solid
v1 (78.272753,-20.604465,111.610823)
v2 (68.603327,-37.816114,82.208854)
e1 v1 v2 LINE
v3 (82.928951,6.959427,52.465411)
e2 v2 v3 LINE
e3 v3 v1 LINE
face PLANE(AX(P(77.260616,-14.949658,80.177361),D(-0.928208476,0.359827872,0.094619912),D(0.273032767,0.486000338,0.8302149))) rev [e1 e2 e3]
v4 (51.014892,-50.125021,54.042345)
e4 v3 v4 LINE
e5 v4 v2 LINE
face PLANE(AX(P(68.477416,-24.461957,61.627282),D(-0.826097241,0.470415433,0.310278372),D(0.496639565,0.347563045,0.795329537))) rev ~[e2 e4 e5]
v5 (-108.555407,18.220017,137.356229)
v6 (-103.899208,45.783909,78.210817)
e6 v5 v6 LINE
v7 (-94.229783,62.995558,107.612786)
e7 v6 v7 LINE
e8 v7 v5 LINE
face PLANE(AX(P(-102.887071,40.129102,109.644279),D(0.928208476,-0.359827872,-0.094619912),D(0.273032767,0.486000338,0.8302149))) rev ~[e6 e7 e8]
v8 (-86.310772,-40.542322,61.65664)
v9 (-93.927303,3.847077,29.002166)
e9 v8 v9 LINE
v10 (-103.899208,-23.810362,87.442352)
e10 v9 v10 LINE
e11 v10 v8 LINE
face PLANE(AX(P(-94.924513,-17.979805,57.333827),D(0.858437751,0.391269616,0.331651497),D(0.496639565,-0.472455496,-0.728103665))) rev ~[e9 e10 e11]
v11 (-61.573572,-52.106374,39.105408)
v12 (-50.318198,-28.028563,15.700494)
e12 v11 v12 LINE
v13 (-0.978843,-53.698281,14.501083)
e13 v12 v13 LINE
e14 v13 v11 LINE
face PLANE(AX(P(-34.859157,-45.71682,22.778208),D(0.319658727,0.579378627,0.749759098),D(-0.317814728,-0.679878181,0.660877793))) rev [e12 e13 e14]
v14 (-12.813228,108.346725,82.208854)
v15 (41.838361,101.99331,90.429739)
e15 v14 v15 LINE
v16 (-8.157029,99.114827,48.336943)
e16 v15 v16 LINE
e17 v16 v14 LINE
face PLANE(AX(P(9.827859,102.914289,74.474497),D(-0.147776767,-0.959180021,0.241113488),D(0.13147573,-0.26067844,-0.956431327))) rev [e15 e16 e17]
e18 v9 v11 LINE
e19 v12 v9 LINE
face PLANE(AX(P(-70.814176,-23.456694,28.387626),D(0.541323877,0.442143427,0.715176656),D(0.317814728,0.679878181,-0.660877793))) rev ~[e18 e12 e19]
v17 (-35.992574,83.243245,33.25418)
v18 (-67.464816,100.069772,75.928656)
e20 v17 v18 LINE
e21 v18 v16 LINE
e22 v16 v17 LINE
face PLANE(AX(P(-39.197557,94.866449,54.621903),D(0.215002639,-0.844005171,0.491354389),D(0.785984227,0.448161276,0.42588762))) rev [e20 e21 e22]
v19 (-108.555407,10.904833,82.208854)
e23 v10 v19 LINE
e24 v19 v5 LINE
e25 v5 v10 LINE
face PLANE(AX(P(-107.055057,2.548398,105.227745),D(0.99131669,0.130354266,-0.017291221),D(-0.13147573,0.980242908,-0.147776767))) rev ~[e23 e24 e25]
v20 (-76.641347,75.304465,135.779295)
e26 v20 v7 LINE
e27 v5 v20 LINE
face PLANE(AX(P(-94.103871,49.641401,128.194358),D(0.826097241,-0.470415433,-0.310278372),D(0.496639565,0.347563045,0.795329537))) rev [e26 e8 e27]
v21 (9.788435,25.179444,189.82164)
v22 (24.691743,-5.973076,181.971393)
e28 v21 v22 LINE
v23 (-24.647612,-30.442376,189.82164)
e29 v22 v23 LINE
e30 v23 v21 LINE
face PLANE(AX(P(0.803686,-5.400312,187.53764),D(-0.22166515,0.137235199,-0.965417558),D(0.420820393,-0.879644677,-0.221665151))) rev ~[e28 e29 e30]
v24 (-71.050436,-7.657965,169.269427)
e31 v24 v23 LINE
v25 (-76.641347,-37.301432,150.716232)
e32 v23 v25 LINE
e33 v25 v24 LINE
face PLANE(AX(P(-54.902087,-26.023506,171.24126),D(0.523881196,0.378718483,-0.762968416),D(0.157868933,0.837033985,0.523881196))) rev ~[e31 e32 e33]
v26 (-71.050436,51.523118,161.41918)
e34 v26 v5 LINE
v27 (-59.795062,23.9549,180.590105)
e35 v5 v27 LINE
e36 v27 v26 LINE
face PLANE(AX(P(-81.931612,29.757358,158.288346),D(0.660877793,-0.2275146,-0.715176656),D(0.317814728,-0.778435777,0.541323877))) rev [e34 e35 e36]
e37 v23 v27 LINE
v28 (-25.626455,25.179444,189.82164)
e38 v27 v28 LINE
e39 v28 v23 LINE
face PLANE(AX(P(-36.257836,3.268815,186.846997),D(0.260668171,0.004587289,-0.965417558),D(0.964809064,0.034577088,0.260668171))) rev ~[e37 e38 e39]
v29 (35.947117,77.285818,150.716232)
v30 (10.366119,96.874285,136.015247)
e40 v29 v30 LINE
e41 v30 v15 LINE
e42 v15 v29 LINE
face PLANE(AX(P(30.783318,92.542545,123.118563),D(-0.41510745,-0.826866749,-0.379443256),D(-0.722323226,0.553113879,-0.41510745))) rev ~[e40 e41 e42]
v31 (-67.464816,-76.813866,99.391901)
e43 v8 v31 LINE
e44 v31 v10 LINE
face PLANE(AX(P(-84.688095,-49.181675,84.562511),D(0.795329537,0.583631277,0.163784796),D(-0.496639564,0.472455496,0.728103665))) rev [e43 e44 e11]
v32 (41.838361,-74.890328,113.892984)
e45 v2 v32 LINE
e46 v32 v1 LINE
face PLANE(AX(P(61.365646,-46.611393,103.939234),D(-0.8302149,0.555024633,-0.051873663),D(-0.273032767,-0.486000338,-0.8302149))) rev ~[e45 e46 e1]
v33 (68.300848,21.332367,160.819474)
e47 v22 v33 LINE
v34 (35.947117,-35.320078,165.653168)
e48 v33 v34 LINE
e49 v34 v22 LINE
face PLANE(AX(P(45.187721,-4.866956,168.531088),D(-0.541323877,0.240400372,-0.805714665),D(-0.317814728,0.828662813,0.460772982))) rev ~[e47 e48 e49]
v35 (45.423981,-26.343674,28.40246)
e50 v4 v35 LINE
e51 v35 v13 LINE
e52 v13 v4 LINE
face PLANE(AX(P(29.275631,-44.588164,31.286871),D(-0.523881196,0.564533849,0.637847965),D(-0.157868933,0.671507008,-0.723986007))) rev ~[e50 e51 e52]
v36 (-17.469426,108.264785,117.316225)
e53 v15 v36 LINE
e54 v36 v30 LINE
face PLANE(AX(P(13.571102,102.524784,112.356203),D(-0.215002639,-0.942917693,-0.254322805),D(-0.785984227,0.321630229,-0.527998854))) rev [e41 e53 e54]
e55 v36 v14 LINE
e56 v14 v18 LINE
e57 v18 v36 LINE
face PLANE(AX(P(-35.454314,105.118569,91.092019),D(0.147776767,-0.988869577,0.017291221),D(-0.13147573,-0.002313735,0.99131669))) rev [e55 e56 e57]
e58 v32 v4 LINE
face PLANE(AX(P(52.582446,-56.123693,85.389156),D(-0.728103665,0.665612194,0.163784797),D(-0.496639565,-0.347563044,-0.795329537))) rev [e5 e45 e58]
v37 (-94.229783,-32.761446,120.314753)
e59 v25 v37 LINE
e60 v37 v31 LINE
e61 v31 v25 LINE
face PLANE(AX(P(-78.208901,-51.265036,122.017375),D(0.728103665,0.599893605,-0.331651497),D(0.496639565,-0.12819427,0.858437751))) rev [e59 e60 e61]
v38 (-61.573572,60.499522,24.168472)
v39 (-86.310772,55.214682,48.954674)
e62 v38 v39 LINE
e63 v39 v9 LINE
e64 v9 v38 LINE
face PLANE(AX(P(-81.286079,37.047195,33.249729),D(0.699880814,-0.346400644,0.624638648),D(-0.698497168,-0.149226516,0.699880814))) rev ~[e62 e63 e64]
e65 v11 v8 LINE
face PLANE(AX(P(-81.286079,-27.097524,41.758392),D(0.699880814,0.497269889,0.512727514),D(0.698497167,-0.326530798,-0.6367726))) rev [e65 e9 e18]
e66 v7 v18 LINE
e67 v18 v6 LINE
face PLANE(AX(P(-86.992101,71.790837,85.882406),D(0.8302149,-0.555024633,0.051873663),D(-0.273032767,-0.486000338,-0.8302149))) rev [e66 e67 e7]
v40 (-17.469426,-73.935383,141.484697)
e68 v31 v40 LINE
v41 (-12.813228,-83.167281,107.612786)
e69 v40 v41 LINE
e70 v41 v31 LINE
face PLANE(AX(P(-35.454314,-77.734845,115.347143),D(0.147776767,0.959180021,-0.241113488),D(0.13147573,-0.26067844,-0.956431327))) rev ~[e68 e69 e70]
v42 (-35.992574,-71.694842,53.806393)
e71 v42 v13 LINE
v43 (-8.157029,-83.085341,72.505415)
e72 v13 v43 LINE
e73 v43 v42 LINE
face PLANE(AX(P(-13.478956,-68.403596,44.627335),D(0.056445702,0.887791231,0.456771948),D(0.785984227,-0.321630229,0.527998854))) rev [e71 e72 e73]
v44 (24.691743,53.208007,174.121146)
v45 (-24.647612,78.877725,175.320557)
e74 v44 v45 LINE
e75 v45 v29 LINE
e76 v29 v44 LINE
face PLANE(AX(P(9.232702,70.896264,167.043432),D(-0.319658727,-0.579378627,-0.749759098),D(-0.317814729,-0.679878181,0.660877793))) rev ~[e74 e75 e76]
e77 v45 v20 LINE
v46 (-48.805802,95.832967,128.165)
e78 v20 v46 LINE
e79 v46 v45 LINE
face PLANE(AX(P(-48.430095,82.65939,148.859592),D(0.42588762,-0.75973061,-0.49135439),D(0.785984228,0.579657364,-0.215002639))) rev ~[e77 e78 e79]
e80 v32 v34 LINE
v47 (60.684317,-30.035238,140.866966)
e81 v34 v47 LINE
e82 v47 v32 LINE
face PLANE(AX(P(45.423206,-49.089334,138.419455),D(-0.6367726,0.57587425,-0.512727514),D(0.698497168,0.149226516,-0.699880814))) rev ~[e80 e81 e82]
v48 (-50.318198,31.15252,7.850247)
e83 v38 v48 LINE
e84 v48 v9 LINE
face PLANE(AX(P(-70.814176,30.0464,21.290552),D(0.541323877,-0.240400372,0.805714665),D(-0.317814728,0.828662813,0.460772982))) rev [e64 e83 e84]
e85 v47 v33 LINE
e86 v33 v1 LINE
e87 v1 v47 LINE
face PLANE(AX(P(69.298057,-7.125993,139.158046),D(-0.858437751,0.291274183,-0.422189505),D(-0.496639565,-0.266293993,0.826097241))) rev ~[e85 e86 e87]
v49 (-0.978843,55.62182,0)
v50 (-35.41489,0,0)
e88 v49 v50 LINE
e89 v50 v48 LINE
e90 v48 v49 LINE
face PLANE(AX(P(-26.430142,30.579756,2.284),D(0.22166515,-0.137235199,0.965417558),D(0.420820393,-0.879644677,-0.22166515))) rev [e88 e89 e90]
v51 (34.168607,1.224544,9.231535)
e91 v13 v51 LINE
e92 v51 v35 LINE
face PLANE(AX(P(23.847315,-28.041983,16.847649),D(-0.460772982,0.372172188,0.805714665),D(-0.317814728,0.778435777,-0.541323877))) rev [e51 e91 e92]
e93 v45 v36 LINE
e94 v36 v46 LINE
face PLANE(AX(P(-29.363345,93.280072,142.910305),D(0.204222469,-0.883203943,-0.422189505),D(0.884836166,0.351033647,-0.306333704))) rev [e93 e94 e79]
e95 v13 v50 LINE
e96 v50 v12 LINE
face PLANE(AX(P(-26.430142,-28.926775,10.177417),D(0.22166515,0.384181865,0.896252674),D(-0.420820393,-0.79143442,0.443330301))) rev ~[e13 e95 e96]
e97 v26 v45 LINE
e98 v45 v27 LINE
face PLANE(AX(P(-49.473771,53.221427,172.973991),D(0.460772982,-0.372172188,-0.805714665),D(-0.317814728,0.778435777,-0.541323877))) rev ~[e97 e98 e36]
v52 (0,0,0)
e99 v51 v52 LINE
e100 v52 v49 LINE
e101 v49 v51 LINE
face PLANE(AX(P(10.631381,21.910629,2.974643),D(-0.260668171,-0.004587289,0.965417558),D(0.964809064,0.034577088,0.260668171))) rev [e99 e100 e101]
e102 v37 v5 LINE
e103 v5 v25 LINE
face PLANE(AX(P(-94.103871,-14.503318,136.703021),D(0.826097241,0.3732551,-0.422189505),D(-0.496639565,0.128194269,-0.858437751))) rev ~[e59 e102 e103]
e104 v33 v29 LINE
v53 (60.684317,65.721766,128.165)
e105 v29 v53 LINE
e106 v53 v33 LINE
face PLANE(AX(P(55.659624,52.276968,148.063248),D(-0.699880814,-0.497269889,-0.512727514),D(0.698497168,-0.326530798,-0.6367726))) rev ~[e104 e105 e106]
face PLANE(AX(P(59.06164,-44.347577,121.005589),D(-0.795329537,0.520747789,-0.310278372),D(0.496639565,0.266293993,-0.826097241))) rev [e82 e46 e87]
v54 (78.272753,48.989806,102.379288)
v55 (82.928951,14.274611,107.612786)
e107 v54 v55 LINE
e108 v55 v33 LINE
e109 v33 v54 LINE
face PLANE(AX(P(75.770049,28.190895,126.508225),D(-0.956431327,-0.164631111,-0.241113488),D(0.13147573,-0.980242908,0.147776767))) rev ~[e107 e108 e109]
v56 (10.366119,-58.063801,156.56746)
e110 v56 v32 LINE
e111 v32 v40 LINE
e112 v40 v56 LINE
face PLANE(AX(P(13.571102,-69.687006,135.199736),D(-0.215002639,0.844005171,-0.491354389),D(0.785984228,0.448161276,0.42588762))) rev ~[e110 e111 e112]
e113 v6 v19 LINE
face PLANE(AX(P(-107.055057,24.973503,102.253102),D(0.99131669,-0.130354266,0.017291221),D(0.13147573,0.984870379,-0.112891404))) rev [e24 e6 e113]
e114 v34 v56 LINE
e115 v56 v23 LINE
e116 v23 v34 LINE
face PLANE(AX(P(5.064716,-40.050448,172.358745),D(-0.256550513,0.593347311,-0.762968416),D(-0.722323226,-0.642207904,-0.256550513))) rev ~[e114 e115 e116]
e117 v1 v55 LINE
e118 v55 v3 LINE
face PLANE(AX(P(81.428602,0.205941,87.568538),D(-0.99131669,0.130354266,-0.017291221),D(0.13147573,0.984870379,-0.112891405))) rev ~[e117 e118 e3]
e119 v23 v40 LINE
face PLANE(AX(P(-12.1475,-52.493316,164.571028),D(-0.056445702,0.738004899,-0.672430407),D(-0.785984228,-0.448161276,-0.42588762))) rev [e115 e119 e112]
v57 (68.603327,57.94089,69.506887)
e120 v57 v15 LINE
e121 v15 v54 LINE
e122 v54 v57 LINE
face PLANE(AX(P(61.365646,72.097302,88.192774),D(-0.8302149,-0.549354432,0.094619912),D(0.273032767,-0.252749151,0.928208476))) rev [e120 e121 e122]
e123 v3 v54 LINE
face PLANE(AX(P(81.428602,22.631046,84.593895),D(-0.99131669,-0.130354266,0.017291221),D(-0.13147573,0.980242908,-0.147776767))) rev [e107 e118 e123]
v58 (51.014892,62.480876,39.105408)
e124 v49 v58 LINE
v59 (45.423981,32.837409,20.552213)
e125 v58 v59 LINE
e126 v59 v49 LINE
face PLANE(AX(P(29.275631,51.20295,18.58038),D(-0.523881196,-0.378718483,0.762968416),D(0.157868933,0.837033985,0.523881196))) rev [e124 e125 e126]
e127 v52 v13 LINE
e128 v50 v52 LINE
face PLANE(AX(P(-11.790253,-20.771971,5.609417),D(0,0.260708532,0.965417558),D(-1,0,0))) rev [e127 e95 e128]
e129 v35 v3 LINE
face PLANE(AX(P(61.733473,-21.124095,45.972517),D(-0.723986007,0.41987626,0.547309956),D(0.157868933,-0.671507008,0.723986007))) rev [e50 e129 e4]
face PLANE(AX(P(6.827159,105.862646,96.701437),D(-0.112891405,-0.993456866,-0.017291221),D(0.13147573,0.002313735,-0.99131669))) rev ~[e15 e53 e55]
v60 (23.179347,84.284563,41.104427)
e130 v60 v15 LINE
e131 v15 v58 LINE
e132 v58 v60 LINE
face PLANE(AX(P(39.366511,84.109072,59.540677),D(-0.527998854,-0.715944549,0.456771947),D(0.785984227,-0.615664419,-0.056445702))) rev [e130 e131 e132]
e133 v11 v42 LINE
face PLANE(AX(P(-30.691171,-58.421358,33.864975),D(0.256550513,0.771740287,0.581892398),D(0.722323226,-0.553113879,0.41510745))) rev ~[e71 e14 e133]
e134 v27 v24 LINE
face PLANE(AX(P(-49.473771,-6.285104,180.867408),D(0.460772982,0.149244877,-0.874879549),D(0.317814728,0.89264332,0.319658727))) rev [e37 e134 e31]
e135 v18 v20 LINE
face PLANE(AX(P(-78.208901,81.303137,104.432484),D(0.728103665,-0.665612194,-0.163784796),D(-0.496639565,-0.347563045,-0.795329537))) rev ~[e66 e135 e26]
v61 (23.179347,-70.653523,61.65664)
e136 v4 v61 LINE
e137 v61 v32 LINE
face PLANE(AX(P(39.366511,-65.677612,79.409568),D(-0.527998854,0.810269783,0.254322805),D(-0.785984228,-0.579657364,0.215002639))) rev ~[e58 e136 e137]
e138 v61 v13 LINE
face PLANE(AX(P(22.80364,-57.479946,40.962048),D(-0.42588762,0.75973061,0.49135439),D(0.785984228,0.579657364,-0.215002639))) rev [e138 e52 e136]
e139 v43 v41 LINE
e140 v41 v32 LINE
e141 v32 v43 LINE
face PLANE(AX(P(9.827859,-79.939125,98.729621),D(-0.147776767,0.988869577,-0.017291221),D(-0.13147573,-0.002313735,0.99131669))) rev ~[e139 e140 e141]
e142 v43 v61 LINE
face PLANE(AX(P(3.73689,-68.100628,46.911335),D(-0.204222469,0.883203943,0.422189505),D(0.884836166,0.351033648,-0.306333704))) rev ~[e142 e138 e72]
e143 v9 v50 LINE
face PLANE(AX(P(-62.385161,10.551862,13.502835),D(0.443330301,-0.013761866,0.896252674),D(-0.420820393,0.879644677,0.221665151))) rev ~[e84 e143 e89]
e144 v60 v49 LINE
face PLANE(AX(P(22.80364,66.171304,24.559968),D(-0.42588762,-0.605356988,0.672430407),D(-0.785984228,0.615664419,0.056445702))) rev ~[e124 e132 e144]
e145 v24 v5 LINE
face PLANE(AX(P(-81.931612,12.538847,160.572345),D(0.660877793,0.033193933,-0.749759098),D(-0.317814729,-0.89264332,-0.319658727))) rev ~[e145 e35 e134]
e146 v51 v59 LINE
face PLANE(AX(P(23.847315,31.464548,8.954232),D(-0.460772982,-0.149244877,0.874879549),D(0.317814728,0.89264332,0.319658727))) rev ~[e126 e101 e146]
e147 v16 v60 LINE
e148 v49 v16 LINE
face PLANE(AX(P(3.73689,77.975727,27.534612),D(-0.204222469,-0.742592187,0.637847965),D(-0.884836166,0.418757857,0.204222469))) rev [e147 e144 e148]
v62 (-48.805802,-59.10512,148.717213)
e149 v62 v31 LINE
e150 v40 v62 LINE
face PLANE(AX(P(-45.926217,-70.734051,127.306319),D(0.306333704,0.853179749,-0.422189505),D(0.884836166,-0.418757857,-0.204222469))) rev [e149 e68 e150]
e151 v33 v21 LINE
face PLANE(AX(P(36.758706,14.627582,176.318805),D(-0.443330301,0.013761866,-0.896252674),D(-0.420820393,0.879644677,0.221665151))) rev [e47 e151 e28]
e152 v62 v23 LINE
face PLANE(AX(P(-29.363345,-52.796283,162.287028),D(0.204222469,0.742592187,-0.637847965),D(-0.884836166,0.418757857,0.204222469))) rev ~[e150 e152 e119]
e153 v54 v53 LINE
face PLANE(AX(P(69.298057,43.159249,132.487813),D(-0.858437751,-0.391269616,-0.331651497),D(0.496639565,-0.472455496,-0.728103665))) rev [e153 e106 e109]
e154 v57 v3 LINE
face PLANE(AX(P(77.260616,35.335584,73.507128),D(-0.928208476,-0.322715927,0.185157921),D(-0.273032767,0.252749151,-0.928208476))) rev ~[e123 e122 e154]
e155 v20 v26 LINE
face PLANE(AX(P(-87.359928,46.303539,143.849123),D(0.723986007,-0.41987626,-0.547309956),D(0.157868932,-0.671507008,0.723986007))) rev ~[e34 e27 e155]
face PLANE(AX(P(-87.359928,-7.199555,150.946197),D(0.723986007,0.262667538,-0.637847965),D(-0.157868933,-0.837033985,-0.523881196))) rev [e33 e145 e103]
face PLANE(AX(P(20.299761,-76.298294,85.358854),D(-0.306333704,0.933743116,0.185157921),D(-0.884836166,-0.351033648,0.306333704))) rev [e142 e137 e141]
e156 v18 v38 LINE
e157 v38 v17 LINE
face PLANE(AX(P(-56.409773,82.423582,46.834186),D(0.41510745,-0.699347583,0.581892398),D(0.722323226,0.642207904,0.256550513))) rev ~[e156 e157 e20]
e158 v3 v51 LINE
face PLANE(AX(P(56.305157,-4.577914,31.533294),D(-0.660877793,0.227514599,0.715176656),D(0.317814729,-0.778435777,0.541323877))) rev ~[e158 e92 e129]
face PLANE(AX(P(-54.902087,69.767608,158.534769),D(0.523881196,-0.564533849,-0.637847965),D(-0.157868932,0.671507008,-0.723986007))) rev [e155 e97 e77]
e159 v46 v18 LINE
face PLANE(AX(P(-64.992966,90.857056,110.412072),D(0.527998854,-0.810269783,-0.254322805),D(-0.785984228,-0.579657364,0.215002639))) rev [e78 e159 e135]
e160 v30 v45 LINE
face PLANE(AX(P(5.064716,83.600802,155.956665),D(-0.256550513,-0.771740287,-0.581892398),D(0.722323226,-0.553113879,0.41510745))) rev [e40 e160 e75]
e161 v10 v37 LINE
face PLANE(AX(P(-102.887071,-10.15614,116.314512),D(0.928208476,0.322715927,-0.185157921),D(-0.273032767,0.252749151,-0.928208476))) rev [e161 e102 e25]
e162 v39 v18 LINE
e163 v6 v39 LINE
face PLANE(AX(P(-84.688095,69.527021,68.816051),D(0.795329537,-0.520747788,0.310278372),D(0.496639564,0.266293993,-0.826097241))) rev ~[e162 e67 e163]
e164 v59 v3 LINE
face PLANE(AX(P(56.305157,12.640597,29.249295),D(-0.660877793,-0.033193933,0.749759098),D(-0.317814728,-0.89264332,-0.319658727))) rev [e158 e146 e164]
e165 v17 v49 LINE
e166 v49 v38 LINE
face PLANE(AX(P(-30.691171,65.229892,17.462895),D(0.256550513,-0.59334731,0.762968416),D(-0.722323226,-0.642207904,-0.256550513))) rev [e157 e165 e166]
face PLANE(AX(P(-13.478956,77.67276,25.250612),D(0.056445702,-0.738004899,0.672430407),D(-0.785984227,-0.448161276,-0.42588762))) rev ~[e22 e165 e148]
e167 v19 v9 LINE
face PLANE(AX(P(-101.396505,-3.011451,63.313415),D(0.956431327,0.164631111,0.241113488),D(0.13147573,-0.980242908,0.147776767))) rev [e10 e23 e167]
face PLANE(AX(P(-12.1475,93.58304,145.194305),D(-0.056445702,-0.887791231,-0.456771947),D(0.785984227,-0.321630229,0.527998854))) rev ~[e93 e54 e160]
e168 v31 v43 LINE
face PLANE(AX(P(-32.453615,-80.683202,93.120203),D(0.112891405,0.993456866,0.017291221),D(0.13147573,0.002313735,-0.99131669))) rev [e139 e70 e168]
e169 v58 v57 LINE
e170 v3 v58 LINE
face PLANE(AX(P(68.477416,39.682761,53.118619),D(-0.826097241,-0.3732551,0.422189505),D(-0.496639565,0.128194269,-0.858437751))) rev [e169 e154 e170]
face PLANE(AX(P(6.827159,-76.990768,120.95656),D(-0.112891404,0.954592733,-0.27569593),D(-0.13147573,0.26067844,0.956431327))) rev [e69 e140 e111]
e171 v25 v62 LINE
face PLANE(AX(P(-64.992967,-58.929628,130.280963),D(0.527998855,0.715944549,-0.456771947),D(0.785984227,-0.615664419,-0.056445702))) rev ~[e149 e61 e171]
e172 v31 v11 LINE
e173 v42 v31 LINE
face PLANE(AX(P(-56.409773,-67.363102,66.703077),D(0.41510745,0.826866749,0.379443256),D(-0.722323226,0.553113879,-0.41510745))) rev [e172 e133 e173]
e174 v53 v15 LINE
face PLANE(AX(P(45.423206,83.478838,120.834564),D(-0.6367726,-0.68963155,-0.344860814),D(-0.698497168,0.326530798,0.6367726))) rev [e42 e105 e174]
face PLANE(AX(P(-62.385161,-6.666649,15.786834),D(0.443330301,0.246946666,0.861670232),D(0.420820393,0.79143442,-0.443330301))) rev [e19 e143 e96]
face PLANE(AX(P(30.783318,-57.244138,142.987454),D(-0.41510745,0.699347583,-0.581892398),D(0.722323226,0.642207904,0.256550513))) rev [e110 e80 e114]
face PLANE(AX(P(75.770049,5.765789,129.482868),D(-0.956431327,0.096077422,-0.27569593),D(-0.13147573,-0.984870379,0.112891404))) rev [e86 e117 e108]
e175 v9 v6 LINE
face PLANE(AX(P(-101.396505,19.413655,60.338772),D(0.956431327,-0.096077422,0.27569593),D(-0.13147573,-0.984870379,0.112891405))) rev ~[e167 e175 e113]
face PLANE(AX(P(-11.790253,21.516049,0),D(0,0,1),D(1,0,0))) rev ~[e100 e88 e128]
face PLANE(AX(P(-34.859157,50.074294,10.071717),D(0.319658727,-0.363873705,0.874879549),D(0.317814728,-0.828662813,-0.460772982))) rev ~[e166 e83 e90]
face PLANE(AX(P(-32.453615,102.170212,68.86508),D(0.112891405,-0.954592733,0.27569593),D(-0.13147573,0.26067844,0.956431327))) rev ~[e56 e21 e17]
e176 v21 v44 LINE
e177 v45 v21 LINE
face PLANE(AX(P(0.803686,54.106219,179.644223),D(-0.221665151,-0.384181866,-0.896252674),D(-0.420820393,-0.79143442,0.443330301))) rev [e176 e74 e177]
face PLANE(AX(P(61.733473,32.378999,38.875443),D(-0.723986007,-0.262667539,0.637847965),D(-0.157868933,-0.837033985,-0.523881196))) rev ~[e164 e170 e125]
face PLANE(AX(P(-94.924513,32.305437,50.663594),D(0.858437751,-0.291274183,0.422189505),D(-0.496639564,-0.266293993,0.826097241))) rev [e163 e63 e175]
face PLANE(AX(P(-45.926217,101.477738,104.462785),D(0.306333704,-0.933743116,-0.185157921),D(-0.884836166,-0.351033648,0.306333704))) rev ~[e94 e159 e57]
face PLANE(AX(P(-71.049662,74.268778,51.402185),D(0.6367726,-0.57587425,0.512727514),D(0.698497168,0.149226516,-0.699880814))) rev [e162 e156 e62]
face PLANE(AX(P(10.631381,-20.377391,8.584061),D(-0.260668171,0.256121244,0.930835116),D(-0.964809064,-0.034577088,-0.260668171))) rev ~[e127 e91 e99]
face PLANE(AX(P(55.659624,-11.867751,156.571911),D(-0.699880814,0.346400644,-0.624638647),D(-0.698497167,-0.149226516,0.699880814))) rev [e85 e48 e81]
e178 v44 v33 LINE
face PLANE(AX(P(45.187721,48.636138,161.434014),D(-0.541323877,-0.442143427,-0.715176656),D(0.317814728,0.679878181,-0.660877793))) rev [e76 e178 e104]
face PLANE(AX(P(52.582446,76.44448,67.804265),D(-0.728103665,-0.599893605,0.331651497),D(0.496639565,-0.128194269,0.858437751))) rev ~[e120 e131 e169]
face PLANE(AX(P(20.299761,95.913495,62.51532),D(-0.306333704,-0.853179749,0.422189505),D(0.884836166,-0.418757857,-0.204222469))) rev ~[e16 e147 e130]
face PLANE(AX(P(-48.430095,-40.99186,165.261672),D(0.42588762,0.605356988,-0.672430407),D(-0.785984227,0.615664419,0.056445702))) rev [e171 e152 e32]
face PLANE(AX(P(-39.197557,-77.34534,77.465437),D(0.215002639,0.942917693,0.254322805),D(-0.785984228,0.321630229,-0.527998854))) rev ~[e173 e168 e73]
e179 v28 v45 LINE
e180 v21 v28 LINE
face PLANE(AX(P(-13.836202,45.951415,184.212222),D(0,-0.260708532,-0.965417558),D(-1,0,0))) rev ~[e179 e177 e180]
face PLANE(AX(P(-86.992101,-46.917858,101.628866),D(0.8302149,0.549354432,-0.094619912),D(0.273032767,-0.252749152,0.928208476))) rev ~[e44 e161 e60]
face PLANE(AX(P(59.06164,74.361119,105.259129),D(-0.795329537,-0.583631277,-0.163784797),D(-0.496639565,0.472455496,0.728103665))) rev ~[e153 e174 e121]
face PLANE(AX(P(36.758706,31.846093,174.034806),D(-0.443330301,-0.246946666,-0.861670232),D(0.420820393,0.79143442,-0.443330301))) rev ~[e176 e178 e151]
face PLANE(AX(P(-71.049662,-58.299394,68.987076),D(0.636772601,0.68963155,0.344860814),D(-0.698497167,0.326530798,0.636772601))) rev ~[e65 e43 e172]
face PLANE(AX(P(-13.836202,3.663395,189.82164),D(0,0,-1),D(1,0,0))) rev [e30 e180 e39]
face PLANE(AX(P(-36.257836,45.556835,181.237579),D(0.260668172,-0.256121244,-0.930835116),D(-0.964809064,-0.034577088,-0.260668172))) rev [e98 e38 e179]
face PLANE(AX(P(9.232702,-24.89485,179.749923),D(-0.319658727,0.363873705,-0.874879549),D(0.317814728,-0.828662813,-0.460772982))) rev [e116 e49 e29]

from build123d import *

# Parameters (mm, degrees)
F1_DEPTH = 101.6
F1_TAPER = 7.556054046


with BuildPart() as f1:
    # F0 (on Top) → F1 (new body)
    with BuildSketch(Plane.XY):
        Polygon((0, 0), (-0.9788434916, 55.6218195157), (-35.4148902231, 0), align=None)
    extrude(amount=F1_DEPTH, taper=F1_TAPER)

    # F2: F1 across face


with BuildPart() as f1_1:
    add(f1.part)
    add(f1.part.mirror(Plane(origin=(-16.4023206536, 22.737179725, 31.6369417684), x_dir=(-0.5263932023, -0.8502412579, 0), z_dir=(-0.8428583491, 0.5218223667, 0.1314960875))))

    # F3: F1 across face


with BuildPart() as f1_2:
    add(f1_1.part)
    add(f1_1.part.mirror(Plane(origin=(-4.5973572795, 22.7371792838, 31.6369418981), x_dir=(-0.0175954682, 0.9998451878, 0), z_dir=(0.9911632216, 0.0174426813, 0.1314960875))))

    # F4: F1 across face


with BuildPart() as f1_3:
    add(f1_2.part)
    add(f1_2.part.mirror(Plane(origin=(10.5439699338, 33.6829824787, 38.4876798223), x_dir=(-0.9642022, 0.2651680929, 0), z_dir=(0.2399623244, 0.8725491765, 0.425530278))))

    # F5: F1 across face


with BuildPart() as f1_4:
    add(f1_3.part)
    add(f1_3.part.mirror(Plane(origin=(-21.3700903424, 33.1213526999, 34.2536909371), x_dir=(-0.9178751297, -0.3968693062, 0), z_dir=(-0.3726102349, 0.8617690066, 0.3442612266))))

    # F6: F1 across face


with BuildPart() as f1_5:
    add(f1_4.part)
    add(f1_4.part.mirror(Plane(origin=(-16.0760387074, 4.1965743618, 31.6369428308), x_dir=(1, 0, 0), z_dir=(0, -0.9913166895, 0.1314960875))))

    # F7: F1 across face


with BuildPart() as f1_6:
    add(f1_5.part)
    add(f1_5.part.mirror(Plane(origin=(22.2597853072, -4.1764689394, 44.1816075195), x_dir=(-0.5858563278, 0.8104149327, 0), z_dir=(0.7608774319, 0.5500452178, 0.3442612266))))

    # F8: F1 across face


with BuildPart() as f1_7:
    add(f1_6.part)
    add(f1_6.part.mirror(Plane(origin=(35.6016618602, 44.3371609674, 67.8410401107), x_dir=(-0.9178751298, -0.3968693062, 0), z_dir=(-0.3726102349, 0.8617690066, 0.3442612266))))

    # F9: F1 across face


with BuildPart() as f1_8:
    add(f1_7.part)
    add(f1_7.part.mirror(Plane(origin=(-53.5658558506, 42.7679738217, 56.0113238164), x_dir=(0.9642022, -0.265168093, 0), z_dir=(-0.2399623245, -0.8725491764, -0.425530278))))

    # F10: F1 across face


with BuildPart() as f1_9:
    add(f1_8.part)
    add(f1_8.part.mirror(Plane(origin=(-67.6744000884, -17.254319617, 81.3366041914), x_dir=(0.950172763, 0.3117237888, 0), z_dir=(0.2399623244, -0.7314349209, 0.638295417))))

    # F11: F1 across face


with BuildPart() as f1_10:
    add(f1_9.part)
    add(f1_9.part.mirror(Plane(origin=(-47.8862406141, 9.6288854157, 148.2567814243), x_dir=(-0.5016862394, -0.8650496617, 0), z_dir=(-0.7608774318, 0.4412714719, -0.4757573141))))

    # F12: F1 across face


with BuildPart() as f1_11:
    add(f1_10.part)
    add(f1_10.part.mirror(Plane(origin=(11.1666679236, 62.2499398733, 127.2140978003), x_dir=(0.3283942647, -0.9445407386, 0), z_dir=(-0.6028960247, -0.2096125541, 0.7697915046))))


solid = f1_11.part
